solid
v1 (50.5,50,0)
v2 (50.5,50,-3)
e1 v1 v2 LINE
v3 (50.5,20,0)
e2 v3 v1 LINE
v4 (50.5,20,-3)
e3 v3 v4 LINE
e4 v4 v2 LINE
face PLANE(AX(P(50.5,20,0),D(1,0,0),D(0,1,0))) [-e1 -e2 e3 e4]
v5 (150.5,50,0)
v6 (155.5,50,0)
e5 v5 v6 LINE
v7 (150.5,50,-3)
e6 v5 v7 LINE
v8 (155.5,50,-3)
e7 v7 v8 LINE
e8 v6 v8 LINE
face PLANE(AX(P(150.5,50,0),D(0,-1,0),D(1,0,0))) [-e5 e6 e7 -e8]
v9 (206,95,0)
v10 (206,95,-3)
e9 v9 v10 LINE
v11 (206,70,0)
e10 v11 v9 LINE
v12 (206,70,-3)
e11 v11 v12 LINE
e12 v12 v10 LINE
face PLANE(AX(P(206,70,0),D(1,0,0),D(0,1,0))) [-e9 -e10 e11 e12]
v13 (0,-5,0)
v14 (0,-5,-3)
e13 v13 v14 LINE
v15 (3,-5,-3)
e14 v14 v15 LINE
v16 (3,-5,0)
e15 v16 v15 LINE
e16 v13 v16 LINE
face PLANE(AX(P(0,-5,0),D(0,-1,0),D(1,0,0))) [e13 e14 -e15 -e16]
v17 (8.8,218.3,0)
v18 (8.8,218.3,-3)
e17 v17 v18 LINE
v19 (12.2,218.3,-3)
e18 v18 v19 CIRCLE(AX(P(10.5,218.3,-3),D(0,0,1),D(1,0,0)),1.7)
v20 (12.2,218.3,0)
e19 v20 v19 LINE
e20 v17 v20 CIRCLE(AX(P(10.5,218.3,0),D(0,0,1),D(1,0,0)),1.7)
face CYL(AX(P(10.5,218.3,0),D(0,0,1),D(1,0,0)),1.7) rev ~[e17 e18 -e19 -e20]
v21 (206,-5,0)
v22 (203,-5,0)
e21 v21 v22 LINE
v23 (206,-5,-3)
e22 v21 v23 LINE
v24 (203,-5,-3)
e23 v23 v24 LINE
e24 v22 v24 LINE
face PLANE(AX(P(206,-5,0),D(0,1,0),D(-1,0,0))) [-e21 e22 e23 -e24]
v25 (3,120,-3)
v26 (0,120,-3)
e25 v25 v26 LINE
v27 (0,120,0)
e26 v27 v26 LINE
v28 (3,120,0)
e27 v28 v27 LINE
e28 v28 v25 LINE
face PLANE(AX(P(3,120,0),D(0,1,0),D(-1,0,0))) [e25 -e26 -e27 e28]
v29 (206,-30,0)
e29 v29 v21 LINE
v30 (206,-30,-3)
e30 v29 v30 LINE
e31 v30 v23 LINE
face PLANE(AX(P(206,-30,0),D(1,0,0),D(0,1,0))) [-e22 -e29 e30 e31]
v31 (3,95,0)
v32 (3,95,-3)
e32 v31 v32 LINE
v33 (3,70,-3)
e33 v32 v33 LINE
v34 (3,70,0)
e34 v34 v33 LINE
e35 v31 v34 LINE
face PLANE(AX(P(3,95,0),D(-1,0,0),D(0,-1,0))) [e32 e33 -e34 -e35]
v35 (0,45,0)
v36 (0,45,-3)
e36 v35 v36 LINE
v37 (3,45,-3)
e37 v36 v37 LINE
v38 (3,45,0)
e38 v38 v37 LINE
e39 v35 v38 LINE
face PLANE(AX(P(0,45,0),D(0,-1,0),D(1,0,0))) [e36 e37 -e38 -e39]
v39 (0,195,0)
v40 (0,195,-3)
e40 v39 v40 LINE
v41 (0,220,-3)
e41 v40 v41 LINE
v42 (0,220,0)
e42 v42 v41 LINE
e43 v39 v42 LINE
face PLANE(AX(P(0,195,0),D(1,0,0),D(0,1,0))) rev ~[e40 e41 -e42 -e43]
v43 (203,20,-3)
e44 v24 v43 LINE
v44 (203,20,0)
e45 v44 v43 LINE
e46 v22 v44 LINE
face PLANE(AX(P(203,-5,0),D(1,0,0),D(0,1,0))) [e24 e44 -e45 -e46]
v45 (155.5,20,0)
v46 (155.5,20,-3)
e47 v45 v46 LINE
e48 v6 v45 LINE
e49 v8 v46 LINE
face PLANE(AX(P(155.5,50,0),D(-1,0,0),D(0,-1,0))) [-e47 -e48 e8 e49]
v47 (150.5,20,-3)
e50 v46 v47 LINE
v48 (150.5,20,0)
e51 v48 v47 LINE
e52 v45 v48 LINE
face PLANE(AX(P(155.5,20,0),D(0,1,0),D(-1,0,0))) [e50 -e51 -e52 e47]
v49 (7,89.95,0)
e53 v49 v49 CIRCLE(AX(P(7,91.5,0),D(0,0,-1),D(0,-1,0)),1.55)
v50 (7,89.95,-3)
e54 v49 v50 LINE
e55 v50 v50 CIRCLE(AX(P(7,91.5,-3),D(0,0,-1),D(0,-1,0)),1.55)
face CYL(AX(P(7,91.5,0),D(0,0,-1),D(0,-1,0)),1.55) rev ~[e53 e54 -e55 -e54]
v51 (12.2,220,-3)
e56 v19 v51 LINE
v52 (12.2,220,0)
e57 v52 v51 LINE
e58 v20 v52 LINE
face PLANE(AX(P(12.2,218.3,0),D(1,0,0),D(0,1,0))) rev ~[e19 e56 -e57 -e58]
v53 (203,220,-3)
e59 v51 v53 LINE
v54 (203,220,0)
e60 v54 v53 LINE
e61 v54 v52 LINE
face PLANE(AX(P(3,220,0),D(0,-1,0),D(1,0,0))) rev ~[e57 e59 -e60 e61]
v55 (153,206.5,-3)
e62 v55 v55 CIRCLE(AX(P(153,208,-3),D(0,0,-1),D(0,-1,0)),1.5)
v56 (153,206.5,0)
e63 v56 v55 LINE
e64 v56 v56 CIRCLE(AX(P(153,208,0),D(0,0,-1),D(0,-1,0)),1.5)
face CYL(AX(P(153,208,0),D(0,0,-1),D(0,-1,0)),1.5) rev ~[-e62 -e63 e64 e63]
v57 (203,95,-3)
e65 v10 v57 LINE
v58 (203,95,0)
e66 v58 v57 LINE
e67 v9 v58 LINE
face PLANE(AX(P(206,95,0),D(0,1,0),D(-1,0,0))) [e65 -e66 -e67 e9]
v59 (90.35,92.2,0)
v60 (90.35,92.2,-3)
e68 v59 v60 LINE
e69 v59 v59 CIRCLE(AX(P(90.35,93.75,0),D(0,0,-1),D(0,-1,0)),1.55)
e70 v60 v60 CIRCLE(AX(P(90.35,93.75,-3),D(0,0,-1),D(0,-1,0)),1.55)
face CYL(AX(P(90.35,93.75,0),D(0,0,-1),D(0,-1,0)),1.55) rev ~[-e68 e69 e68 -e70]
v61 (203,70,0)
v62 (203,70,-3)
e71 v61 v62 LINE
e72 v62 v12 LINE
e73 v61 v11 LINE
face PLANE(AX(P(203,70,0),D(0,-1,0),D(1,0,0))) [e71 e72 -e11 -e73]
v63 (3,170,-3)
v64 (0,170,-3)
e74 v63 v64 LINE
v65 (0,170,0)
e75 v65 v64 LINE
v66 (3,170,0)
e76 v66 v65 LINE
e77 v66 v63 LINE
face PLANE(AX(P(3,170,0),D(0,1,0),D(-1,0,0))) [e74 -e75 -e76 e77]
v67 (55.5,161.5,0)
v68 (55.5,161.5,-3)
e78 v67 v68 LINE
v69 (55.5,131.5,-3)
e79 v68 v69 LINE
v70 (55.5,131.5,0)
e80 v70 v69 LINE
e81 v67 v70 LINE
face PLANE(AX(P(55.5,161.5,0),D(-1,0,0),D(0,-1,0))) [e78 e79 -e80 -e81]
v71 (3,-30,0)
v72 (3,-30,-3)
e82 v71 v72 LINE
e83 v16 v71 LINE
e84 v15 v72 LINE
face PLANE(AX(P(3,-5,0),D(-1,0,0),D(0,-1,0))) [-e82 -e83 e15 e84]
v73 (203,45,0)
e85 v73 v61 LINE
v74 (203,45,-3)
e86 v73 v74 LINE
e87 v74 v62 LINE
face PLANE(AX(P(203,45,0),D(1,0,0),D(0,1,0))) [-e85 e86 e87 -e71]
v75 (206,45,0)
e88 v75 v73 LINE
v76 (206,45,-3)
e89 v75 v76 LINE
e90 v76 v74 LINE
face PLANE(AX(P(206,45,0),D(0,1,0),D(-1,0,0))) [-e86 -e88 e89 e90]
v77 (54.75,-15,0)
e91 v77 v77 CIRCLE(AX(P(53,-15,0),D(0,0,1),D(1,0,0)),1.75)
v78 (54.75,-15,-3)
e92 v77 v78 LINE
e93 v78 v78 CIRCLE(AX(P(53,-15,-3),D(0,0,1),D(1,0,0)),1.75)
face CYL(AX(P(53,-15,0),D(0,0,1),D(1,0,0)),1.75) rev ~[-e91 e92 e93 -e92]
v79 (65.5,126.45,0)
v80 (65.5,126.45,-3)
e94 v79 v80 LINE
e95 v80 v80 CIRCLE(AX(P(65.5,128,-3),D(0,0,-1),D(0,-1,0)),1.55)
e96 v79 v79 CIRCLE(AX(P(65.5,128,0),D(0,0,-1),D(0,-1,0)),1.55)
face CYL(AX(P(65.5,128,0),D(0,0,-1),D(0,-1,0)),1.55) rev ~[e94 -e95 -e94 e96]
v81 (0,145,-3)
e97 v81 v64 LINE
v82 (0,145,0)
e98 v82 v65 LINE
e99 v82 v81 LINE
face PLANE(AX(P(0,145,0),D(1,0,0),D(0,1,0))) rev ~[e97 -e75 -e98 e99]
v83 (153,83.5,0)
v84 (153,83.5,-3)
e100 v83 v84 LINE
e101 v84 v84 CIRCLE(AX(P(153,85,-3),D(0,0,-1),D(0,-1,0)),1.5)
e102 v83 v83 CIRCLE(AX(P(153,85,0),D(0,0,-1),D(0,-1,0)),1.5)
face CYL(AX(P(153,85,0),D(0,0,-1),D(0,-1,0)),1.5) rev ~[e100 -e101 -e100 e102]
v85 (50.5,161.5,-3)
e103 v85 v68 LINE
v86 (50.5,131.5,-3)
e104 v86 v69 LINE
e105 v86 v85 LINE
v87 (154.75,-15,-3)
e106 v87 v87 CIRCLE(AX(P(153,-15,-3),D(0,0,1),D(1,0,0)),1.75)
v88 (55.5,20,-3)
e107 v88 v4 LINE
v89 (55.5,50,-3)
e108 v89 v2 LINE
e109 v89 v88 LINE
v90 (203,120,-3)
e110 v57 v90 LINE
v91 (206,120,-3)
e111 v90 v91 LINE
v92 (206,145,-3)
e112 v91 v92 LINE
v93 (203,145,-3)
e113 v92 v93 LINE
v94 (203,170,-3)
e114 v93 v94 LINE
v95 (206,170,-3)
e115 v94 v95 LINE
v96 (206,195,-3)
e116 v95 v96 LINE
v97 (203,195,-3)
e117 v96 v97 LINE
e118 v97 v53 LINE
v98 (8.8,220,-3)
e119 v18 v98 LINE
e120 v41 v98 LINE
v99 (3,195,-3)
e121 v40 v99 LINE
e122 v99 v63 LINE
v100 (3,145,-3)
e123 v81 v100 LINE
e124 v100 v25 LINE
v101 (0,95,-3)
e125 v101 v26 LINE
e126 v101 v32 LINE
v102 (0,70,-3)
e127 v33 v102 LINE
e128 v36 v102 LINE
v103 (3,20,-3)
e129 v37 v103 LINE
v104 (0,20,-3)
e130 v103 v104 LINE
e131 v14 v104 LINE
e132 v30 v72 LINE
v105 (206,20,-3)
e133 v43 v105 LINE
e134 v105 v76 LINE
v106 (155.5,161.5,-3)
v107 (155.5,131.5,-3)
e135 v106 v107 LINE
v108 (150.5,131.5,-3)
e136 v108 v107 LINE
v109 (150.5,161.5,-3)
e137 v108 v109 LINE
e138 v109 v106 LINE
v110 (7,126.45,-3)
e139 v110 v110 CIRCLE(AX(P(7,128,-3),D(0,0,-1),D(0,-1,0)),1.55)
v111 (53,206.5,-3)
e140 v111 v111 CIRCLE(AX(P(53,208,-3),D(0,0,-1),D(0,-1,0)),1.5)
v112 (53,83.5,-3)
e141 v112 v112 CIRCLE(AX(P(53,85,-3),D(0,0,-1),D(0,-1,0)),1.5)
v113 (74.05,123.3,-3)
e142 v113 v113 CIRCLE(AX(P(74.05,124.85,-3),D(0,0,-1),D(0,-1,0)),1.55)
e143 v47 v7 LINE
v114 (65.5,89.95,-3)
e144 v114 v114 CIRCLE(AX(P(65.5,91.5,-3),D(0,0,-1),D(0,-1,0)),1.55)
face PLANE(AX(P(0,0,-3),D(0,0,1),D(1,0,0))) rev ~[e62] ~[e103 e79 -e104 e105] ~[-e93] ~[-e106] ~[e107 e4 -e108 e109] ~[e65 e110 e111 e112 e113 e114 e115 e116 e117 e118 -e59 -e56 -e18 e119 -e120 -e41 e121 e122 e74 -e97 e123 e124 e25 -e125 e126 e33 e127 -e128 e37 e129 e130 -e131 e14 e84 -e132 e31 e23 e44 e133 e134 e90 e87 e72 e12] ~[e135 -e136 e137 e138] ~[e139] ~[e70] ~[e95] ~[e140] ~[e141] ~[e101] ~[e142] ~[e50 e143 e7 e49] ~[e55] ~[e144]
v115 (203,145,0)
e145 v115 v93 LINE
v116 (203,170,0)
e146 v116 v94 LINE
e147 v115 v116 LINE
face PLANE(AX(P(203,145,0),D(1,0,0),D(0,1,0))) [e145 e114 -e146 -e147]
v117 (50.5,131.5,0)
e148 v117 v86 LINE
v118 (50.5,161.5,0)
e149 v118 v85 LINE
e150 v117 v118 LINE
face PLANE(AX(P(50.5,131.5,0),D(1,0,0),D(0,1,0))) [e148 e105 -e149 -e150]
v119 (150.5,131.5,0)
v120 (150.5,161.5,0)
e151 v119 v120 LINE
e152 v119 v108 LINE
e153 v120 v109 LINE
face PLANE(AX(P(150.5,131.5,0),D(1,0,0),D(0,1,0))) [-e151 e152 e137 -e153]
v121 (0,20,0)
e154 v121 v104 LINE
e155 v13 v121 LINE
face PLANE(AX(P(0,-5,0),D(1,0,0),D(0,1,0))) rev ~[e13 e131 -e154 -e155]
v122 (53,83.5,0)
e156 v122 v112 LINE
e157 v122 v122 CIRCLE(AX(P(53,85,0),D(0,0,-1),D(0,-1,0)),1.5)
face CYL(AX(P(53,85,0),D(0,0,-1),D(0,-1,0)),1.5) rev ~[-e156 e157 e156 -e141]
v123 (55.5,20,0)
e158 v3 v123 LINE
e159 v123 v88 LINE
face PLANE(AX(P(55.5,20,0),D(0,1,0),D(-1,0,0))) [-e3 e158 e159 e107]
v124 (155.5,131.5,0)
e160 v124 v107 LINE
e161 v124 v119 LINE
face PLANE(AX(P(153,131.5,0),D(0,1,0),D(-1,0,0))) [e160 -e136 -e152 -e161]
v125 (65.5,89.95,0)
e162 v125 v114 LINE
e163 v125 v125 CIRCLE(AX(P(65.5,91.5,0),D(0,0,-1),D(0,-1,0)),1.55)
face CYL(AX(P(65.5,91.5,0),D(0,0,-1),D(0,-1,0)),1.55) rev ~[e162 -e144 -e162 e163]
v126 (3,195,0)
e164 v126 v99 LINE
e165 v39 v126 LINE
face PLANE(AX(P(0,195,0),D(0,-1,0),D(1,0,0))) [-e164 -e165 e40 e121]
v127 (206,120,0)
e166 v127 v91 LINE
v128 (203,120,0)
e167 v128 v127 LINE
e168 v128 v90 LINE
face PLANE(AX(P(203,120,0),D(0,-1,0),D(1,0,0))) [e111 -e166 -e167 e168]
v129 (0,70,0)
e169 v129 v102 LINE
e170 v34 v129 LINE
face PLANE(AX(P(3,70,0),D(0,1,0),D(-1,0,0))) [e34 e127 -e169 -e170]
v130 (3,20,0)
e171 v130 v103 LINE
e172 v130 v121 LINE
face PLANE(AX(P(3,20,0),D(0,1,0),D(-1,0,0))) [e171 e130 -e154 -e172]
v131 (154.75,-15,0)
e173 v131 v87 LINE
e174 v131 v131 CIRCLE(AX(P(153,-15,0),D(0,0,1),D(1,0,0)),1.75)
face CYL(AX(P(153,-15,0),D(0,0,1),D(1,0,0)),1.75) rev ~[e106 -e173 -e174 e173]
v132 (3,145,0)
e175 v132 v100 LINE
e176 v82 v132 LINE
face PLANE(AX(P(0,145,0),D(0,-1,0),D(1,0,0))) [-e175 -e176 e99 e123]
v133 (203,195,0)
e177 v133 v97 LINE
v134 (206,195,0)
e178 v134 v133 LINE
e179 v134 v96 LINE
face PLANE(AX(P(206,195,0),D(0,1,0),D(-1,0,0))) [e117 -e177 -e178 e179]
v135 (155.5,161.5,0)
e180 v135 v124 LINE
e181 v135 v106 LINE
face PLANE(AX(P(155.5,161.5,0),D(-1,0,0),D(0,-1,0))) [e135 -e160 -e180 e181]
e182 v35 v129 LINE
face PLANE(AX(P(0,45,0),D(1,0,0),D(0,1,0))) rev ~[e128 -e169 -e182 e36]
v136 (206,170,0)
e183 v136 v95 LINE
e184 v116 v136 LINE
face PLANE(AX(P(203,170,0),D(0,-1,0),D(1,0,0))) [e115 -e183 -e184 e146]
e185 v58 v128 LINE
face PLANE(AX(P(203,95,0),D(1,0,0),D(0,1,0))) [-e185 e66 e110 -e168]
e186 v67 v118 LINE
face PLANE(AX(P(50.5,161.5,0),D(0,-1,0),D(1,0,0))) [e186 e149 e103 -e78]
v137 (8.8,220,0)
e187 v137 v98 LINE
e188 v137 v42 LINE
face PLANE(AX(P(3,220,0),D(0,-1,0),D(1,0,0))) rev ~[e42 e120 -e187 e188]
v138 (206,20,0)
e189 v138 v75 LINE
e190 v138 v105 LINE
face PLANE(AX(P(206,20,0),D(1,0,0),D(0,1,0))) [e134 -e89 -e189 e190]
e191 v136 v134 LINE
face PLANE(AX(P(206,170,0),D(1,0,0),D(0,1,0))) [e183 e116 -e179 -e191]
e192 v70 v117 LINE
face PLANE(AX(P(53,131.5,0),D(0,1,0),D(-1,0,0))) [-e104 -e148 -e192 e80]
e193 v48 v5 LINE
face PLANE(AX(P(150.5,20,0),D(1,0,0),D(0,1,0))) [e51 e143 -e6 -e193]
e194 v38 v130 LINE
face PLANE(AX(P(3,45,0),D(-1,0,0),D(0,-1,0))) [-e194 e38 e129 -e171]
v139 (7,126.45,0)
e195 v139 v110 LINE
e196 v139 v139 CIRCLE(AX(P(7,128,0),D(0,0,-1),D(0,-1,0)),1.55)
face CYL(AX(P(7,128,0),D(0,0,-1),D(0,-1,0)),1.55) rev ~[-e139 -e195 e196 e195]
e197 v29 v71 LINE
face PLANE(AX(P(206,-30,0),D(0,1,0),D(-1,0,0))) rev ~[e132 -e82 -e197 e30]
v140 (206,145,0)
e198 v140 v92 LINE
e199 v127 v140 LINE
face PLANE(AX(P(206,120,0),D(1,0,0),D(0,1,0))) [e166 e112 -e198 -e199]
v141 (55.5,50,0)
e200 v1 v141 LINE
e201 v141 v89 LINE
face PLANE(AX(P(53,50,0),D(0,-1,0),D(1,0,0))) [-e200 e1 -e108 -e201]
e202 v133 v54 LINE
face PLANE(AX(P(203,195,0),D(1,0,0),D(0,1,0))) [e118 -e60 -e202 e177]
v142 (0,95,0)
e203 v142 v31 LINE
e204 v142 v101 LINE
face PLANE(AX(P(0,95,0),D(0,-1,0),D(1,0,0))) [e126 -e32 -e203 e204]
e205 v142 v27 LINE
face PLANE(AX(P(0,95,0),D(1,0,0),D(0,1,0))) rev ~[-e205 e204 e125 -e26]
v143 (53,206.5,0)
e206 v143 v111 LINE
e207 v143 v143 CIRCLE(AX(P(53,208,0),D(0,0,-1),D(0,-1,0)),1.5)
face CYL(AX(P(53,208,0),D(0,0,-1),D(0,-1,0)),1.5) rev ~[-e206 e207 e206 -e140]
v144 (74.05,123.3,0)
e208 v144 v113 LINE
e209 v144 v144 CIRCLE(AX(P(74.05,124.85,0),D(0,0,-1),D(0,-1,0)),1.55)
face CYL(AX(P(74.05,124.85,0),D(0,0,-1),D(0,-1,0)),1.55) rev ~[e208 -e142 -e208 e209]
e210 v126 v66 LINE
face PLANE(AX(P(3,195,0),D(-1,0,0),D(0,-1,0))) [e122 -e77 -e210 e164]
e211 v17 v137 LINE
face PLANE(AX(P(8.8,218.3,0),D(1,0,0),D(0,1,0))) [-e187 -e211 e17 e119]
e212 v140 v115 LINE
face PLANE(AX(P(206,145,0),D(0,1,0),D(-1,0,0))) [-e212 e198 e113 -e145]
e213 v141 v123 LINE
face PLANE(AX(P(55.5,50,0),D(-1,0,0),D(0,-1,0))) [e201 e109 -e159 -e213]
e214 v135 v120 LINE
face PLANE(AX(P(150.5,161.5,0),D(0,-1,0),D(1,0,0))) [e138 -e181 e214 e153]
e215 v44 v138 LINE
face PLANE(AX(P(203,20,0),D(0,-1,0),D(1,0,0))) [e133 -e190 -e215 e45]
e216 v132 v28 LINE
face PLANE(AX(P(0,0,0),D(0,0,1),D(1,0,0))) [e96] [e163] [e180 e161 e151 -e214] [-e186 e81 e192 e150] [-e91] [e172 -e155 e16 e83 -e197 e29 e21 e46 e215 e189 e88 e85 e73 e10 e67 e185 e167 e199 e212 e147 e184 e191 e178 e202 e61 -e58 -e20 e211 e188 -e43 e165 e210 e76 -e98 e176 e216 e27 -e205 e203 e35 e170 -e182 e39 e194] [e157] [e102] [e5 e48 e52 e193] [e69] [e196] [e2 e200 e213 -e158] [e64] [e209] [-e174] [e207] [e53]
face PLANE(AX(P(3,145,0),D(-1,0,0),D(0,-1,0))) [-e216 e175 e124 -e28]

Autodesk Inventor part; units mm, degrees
ref_plane "YZ Plane" through (0, 0, 0) normal (1, 0, 0) x (0, 1, 0)
ref_plane "XZ Plane" through (0, 0, 0) normal (0, 1, 0) x (-1, 0, 0)
ref_plane "XY Plane" through (0, 0, 0) normal (0, 0, 1) x (1, 0, 0)
sketch "Boceto1" plane through (0, 0, 0) normal (0, 0, 1) x (1, 0, 0)
  line L0 (206, -30) -> (206, 220) projected
  line L1 (0, 220) -> (206, 220) projected
  line L2 (0, -30) -> (0, 220) projected
  line L3 (206, -30) -> (0, -30) projected
  line L4 (206, -30) -> (206, -5)
  line L5 (206, -5) -> (203, -5)
  line L6 (203, -5) -> (203, 20)
  line L7 (203, 20) -> (206, 20)
  line L8 (206, 20) -> (206, 45)
  line L9 (206, 45) -> (203, 45)
  line L10 (203, 45) -> (203, 70)
  line L11 (203, 70) -> (206, 70)
  line L12 (206, 70) -> (206, 95)
  line L13 (206, 95) -> (203, 95)
  line L14 (203, 95) -> (203, 120)
  line L15 (203, 120) -> (206, 120)
  line L16 (206, 120) -> (206, 145)
  line L17 (206, 145) -> (203, 145)
  line L18 (203, 145) -> (203, 170)
  line L19 (203, 170) -> (206, 170)
  line L20 (203, 220) -> (206, 220)
  line L21 (206, 195) -> (203, 195)
  line L22 (203, 195) -> (203, 220)
  line L23 (206, 170) -> (206, 195)
  line L24 (203, 170) -> (206, 170)
  line L25 (0, 220) -> (0, 195)
  line L26 (0, 195) -> (3, 195)
  line L27 (3, 195) -> (3, 170)
  line L28 (3, 170) -> (0, 170)
  line L29 (0, 170) -> (0, 145)
  line L30 (0, 145) -> (3, 145)
  line L31 (3, 145) -> (3, 120)
  line L32 (3, 120) -> (0, 120)
  line L33 (3, 20) -> (0, 20)
  line L34 (0, 45) -> (3, 45)
  line L35 (3, 45) -> (3, 20)
  line L36 (0, 70) -> (0, 45)
  line L37 (3, 70) -> (0, 70)
  line L38 (3, 95) -> (3, 70)
  line L39 (0, 95) -> (3, 95)
  line L40 (0, 120) -> (0, 95)
  line L41 (3, 20) -> (0, 20)
  line L42 (0, 20) -> (0, -5)
  line L43 (0, -5) -> (3, -5)
  line L44 (3, -5) -> (3, -30)
  line L45 (3, -30) -> (0, -30)
  line L46 (203, 220) -> (206, 220)
  line L47 (203, 220) -> (206, 220)
  line L48 (206, 220) -> (206, 245)
  line L49 (206, 245) -> (203, 245)
  line L50 (203, 245) -> (203, 270)
  line L51 (203, 270) -> (206, 270)
  line L52 (0, 220) -> (3, 220)
  line L53 (0, 220) -> (3, 220)
  line L54 (3, 220) -> (3, 245)
  line L55 (3, 245) -> (0, 245)
  line L56 (0, 245) -> (0, 270)
  line L57 (0, 270) -> (3, 270)
  line L58 (206, 270) -> (0, 270)
  point P0 (0, 0)
  dimension "d78" = 3
  dimension "d88" = 3
  dimension "Lengueta" = 25
  dimension "espesor" = 3
  dimension "d2" = 25
  dimension "d3" = 3
  dimension "d4" = 25
  dimension "d5" = 90
  dimension "d6" = 3
  dimension "d7" = 25
  dimension "d8" = 3
  dimension "d9" = 25
  dimension "d10" = 3
  dimension "d11" = 25
  dimension "d12" = 3
  dimension "d13" = 25
  dimension "d14" = 90
  dimension "d15" = 3
  dimension "d16" = 25
  dimension "d17" = 3
  dimension "d18" = 3
  dimension "d19" = 25
  dimension "d20" = 90
  dimension "d21" = 3
  dimension "d22" = 25
  dimension "d23" = 3
  dimension "d26" = 25
  dimension "d27" = 3
  dimension "d28" = 25
  dimension "d29" = 3
  dimension "d30" = 25
  dimension "d31" = 90
  dimension "d32" = 3
  dimension "d33" = 25
  dimension "d34" = 3
  dimension "d35" = 25
  dimension "d36" = 3
  dimension "d37" = 25
  dimension "d38" = 3
  dimension "d39" = 25
  dimension "d40" = 90
  dimension "d41" = 3
  dimension "d42" = 25
  dimension "d43" = 3
  dimension "d44" = 3
  dimension "d45" = 25
  dimension "d46" = 90
  dimension "d47" = 3
  dimension "d48" = 25
  dimension "d49" = 3
  dimension "d71" = 3
  dimension "d72" = 3
  dimension "d73" = 25
  dimension "d74" = 90
  dimension "d75" = 3
  dimension "d76" = 25
  dimension "d77" = 3
  dimension "d81" = 3
  dimension "d82" = 3
  dimension "d83" = 25
  dimension "d84" = 90
  dimension "d85" = 3
  dimension "d86" = 25
  dimension "d87" = 3
extrude "Extrusión1" add sketch "Boceto1" against normal blind 3 contours L3 L44 L43 L2 L33 L35 L34 L37 L38 L39 L32 L31 L30 L28 L27 L26 L1 L22 L21 L0 L19 L18 L17 L15 L14 L13 L11 L10 L9 L7 L6 L5
sketch "Boceto2" plane through (0, 0, 0) normal (0, 0, 1) x (1, 0, 0)
  circle A0 centre (53, -15) radius 1.75
  circle A1 centre (153, -15) radius 1.75
  point P0 (0, 0)
extrude "Extrusión2" cut sketch "Boceto2" against normal blind 3
sketch "Boceto3" plane through (0, 0, 0) normal (0, 0, 1) x (1, 0, 0)
  circle A0 centre (53, 208) radius 2.1
  circle A1 centre (53, 208) radius 1.5
  circle A2 centre (153, 208) radius 2.1
  point P0 (0, 0)
  dimension "d56" = 3
hole "Agujero1" at (53, 208, 0) at (153, 208, 0) direction (0, 0, -1) diameter 3 depth 4
sketch "Boceto4" plane through (0, 0, 0) normal (0, 0, 1) x (1, 0, 0)
  circle A0 centre (53, 85) radius 2.1 projected
  circle A1 centre (153, 85) radius 2.1 projected
  point P0 (0, 0)
hole "Agujero2" at (153, 85, 0) at (53, 85, 0) direction (0, 0, -1) diameter 3 depth 4
sketch "Boceto5" plane through (0, 0, -3) normal (0, 0, -1) x (-1, 0, 0)
  point P0 (0, 0)
sketch "Boceto6" plane through (0, 0, 0) normal (0, 0, 1) x (1, 0, 0)
  circle A0 centre (53, 85) radius 1.5 projected
  circle A1 centre (153, 85) radius 1.5 projected
  circle A2 centre (153, 208) radius 1.5 projected
  circle A3 centre (53, 208) radius 1.5 projected
  circle A4 centre (53, -15) radius 1.75 projected
  circle A5 centre (153, -15) radius 1.75 projected
  line L0 (203, 20) -> (206, 20) projected
  line L1 (206, 20) -> (206, 45) projected
  line L2 (206, 45) -> (203, 45) projected
  line L3 (203, 45) -> (203, 70) projected
  line L4 (203, 70) -> (206, 70) projected
  line L5 (206, 70) -> (206, 95) projected
  line L6 (206, 95) -> (203, 95) projected
  line L7 (203, 95) -> (203, 120) projected
  line L8 (203, 120) -> (206, 120) projected
  line L9 (206, 120) -> (206, 145) projected
  line L10 (206, 145) -> (203, 145) projected
  line L11 (203, 145) -> (203, 170) projected
  line L12 (203, 170) -> (206, 170) projected
  line L13 (206, 170) -> (206, 195) projected
  line L14 (206, 195) -> (203, 195) projected
  line L15 (203, 195) -> (203, 220) projected
  line L16 (203, 220) -> (0, 220) projected
  line L17 (0, 220) -> (0, 195) projected
  line L18 (0, 195) -> (3, 195) projected
  line L19 (3, 195) -> (3, 170) projected
  line L20 (3, 170) -> (0, 170) projected
  line L21 (0, 170) -> (0, 145) projected
  line L22 (0, 145) -> (3, 145) projected
  line L23 (3, 145) -> (3, 120) projected
  line L24 (3, 120) -> (0, 120) projected
  line L25 (0, 120) -> (0, 95) projected
  line L26 (0, 95) -> (3, 95) projected
  line L27 (3, 95) -> (3, 70) projected
  line L28 (3, 70) -> (0, 70) projected
  line L29 (0, 70) -> (0, 45) projected
  line L30 (0, 45) -> (3, 45) projected
  line L31 (3, 45) -> (3, 20) projected
  line L32 (3, 20) -> (0, 20) projected
  line L33 (0, 20) -> (0, -5) projected
  line L34 (0, -5) -> (3, -5) projected
  line L35 (3, -5) -> (3, -30) projected
  line L36 (3, -30) -> (206, -30) projected
  line L37 (206, -30) -> (206, -5) projected
  line L38 (206, -5) -> (203, -5) projected
  line L39 (203, -5) -> (203, 20) projected
  line L40 (153, 85) -> (153, 208)
  line L41 (150.5, 161.5) -> (155.5, 161.5)
  line L42 (155.5, 161.5) -> (155.5, 131.5)
  line L43 (155.5, 131.5) -> (150.5, 131.5)
  line L44 (150.5, 131.5) -> (150.5, 161.5)
  line L45 (150.5, 161.5) -> (155.5, 131.5) construction
  line L46 (155.5, 161.5) -> (150.5, 131.5) construction
  line L47 (53, 85) -> (53, 208)
  line L48 (50.5, 161.5) -> (55.5, 161.5)
  line L49 (55.5, 161.5) -> (55.5, 131.5)
  line L50 (55.5, 131.5) -> (50.5, 131.5)
  line L51 (50.5, 131.5) -> (50.5, 161.5)
  line L52 (50.5, 161.5) -> (55.5, 131.5) construction
  line L53 (55.5, 161.5) -> (50.5, 131.5) construction
  line L54 (53, -15) -> (53, 85)
  line L55 (50.5, 50) -> (55.5, 50)
  line L56 (55.5, 50) -> (55.5, 20)
  line L57 (55.5, 20) -> (50.5, 20)
  line L58 (50.5, 20) -> (50.5, 50)
  line L59 (50.5, 50) -> (55.5, 20) construction
  line L60 (55.5, 50) -> (50.5, 20) construction
  line L61 (150.5, 50) -> (155.5, 50)
  line L62 (155.5, 50) -> (155.5, 20)
  line L63 (155.5, 20) -> (150.5, 20)
  line L64 (150.5, 20) -> (150.5, 50)
  line L65 (150.5, 50) -> (155.5, 20) construction
  line L66 (155.5, 50) -> (150.5, 20) construction
  point P0 (0, 0)
  point P1 (153, 146.5)
  point P2 (53, 146.5)
  point P3 (53, 35)
  point P4 (153, 35)
  dimension "d93" = 5
  dimension "d94" = 30
  dimension "d95" = 5
  dimension "d96" = 30
  dimension "d99" = 5
  dimension "d100" = 30
  dimension "d101" = 5
  dimension "d102" = 30
extrude "Extrusión3" cut sketch "Boceto6" against normal blind 3 contours L55 L56 L57 L54 | L54 L57 L58 L55 | L50 L51 L48 L47 | L47 L48 L49 L50 | L43 L44 L41 L40 | L40 L41 L42 L43 | L61 L62 L63 L64
sketch "Boceto7" plane through (0, 0, 0) normal (0, 0, 1) x (1, 0, 0)
  line L0 (3, 95.5) -> (60.5, 95.5) projected
  line L1 (60.5, 95.5) -> (60.5, 98.5) projected
  line L2 (60.5, 98.5) -> (3, 98.5) projected
  line L3 (3, 98.5) -> (3, 121) projected
  line L4 (3, 121) -> (60.5, 121) projected
  line L5 (60.5, 121) -> (60.5, 124) projected
  line L6 (60.5, 124) -> (3, 124) projected
  line L7 (3, 124) -> (3, 128) projected
  arc A0 (10.873, 129) -> (3, 128) centre (7, 128) ccw projected
  arc A1 (10.873, 129) -> (14.746, 126) centre (14.746, 130) ccw projected
  line L8 (14.746, 126) -> (57.754, 126) projected
  arc A2 (57.754, 126) -> (61.627, 129) centre (57.754, 130) ccw projected
  arc A3 (69.5, 128) -> (61.627, 129) centre (65.5, 128) ccw projected
  line L9 (69.5, 128) -> (69.5, 91.5) projected
  arc A4 (61.627, 90.5) -> (69.5, 91.5) centre (65.5, 91.5) ccw projected
  arc A5 (61.627, 90.5) -> (57.754, 93.5) centre (57.754, 89.5) ccw projected
  line L10 (57.754, 93.5) -> (14.746, 93.5) projected
  arc A6 (14.746, 93.5) -> (10.873, 90.5) centre (14.746, 89.5) ccw projected
  arc A7 (3, 91.5) -> (10.873, 90.5) centre (7, 91.5) ccw projected
  line L11 (3, 91.5) -> (3, 95.5) projected
  line L12 (66.1403, 93.5) -> (64.8597, 93.5) projected
  arc A8 (64.8597, 93.5) -> (66.1403, 93.5) centre (65.5, 91.5) ccw projected
  arc A9 (66.1403, 126) -> (64.8597, 126) centre (65.5, 128) ccw projected
  line L13 (64.8597, 126) -> (66.1403, 126) projected
  line L14 (6.3597, 126) -> (7.6403, 126) projected
  arc A10 (7.6403, 126) -> (6.3597, 126) centre (7, 128) ccw projected
  arc A11 (6.3597, 93.5) -> (7.6403, 93.5) centre (7, 91.5) ccw projected
  line L15 (7.6403, 93.5) -> (6.3597, 93.5) projected
  circle A12 centre (74.05, 124.85) radius 1.55 projected
  circle A13 centre (90.35, 93.75) radius 1.55 projected
  line L16 (92.9, 87.6) -> (71.5, 87.6) projected
  line L17 (71.5, 87.6) -> (71.5, 131) projected
  line L18 (71.5, 131) -> (92.9, 131) projected
  line L19 (92.9, 131) -> (92.9, 87.6) projected
  point P0 (0, 0)
hole "Agujero3" at (65.5, 128, 0) at (7, 128, 0) at (7, 91.5, 0) at (65.5, 91.5, 0) at (90.35, 93.75, 0) at (74.05, 124.85, 0) direction (0, 0, -1) diameter 3.1 end through all
sketch "Boceto8" plane through (0, 0, 0) normal (0, 0, 1) x (1, 0, 0)
  line L0 (0, 220) -> (203, 220) projected
  line L1 (0, 220) -> (3, 220)
  line L2 (3, 220) -> (18, 220)
  line L3 (18, 220) -> (18, 205)
  line L4 (18, 205) -> (3, 205)
  line L5 (3, 205) -> (3, 220)
  line L6 (16.3, 206.7) -> (16.3, 218.3)
  line L7 (16.3, 218.3) -> (4.7, 218.3)
  line L8 (4.7, 218.3) -> (4.7, 206.7)
  line L9 (4.7, 206.7) -> (16.3, 206.7)
  circle A0 centre (10.5, 218.3) radius 1.7
  line L10 (12.2, 218.3) -> (12.2, 220)
  line L11 (8.8, 218.3) -> (8.8, 220)
  point P0 (0, 0)
  dimension "d115" = 3
  dimension "d116" = 15
  dimension "d117" = 15
  dimension "d118" = 1.7
  dimension "d119" = 3.4
extrude "Extrusión4" cut sketch "Boceto8" against normal blind 10 contours L0 A0 L11 | L0 L10 A0 | A0 L7 | L7 A0
equation "\"d2\" = Lengueta"
equation "\"d3\" = espesor"
equation "\"d4\" = Lengueta"
equation "\"d6\" = espesor"
equation "\"d7\" = Lengueta"
equation "\"d8\" = espesor"
equation "\"d11\" = d9"
equation "\"d12\" = d10"
equation "\"d13\" = d9"
equation "\"d16\" = d9"
equation "\"d18\" = d24"
equation "\"d19\" = d25"
equation "\"d22\" = d25"
equation "\"d28\" = d26"
equation "\"d29\" = d27"
equation "\"d30\" = d26"
equation "\"d33\" = d26"
equation "\"d37\" = d35"
equation "\"d38\" = d36"
equation "\"d39\" = d35"
equation "\"d42\" = d35"
equation "\"d44\" = d50"
equation "\"d45\" = d51"
equation "\"d48\" = d51"
equation "\"d71\" = d78"
equation "\"d72\" = d79"
equation "\"d73\" = d80"
equation "\"d76\" = d80"
equation "\"d81\" = d88"
equation "\"d82\" = d89"
equation "\"d83\" = d90"
equation "\"d86\" = d90"
equation "\"d52\" = espesor"
equation "\"d54\" = espesor"
equation "\"d24\" = 3"
equation "\"d25\" = 25"
equation "\"d50\" = 3"
equation "\"d51\" = 25"
equation "\"d79\" = 3"
equation "\"d80\" = 25"
equation "\"d89\" = 3"
equation "\"d90\" = 25"
properties part number "Envolvente_Pared_Trasera"
